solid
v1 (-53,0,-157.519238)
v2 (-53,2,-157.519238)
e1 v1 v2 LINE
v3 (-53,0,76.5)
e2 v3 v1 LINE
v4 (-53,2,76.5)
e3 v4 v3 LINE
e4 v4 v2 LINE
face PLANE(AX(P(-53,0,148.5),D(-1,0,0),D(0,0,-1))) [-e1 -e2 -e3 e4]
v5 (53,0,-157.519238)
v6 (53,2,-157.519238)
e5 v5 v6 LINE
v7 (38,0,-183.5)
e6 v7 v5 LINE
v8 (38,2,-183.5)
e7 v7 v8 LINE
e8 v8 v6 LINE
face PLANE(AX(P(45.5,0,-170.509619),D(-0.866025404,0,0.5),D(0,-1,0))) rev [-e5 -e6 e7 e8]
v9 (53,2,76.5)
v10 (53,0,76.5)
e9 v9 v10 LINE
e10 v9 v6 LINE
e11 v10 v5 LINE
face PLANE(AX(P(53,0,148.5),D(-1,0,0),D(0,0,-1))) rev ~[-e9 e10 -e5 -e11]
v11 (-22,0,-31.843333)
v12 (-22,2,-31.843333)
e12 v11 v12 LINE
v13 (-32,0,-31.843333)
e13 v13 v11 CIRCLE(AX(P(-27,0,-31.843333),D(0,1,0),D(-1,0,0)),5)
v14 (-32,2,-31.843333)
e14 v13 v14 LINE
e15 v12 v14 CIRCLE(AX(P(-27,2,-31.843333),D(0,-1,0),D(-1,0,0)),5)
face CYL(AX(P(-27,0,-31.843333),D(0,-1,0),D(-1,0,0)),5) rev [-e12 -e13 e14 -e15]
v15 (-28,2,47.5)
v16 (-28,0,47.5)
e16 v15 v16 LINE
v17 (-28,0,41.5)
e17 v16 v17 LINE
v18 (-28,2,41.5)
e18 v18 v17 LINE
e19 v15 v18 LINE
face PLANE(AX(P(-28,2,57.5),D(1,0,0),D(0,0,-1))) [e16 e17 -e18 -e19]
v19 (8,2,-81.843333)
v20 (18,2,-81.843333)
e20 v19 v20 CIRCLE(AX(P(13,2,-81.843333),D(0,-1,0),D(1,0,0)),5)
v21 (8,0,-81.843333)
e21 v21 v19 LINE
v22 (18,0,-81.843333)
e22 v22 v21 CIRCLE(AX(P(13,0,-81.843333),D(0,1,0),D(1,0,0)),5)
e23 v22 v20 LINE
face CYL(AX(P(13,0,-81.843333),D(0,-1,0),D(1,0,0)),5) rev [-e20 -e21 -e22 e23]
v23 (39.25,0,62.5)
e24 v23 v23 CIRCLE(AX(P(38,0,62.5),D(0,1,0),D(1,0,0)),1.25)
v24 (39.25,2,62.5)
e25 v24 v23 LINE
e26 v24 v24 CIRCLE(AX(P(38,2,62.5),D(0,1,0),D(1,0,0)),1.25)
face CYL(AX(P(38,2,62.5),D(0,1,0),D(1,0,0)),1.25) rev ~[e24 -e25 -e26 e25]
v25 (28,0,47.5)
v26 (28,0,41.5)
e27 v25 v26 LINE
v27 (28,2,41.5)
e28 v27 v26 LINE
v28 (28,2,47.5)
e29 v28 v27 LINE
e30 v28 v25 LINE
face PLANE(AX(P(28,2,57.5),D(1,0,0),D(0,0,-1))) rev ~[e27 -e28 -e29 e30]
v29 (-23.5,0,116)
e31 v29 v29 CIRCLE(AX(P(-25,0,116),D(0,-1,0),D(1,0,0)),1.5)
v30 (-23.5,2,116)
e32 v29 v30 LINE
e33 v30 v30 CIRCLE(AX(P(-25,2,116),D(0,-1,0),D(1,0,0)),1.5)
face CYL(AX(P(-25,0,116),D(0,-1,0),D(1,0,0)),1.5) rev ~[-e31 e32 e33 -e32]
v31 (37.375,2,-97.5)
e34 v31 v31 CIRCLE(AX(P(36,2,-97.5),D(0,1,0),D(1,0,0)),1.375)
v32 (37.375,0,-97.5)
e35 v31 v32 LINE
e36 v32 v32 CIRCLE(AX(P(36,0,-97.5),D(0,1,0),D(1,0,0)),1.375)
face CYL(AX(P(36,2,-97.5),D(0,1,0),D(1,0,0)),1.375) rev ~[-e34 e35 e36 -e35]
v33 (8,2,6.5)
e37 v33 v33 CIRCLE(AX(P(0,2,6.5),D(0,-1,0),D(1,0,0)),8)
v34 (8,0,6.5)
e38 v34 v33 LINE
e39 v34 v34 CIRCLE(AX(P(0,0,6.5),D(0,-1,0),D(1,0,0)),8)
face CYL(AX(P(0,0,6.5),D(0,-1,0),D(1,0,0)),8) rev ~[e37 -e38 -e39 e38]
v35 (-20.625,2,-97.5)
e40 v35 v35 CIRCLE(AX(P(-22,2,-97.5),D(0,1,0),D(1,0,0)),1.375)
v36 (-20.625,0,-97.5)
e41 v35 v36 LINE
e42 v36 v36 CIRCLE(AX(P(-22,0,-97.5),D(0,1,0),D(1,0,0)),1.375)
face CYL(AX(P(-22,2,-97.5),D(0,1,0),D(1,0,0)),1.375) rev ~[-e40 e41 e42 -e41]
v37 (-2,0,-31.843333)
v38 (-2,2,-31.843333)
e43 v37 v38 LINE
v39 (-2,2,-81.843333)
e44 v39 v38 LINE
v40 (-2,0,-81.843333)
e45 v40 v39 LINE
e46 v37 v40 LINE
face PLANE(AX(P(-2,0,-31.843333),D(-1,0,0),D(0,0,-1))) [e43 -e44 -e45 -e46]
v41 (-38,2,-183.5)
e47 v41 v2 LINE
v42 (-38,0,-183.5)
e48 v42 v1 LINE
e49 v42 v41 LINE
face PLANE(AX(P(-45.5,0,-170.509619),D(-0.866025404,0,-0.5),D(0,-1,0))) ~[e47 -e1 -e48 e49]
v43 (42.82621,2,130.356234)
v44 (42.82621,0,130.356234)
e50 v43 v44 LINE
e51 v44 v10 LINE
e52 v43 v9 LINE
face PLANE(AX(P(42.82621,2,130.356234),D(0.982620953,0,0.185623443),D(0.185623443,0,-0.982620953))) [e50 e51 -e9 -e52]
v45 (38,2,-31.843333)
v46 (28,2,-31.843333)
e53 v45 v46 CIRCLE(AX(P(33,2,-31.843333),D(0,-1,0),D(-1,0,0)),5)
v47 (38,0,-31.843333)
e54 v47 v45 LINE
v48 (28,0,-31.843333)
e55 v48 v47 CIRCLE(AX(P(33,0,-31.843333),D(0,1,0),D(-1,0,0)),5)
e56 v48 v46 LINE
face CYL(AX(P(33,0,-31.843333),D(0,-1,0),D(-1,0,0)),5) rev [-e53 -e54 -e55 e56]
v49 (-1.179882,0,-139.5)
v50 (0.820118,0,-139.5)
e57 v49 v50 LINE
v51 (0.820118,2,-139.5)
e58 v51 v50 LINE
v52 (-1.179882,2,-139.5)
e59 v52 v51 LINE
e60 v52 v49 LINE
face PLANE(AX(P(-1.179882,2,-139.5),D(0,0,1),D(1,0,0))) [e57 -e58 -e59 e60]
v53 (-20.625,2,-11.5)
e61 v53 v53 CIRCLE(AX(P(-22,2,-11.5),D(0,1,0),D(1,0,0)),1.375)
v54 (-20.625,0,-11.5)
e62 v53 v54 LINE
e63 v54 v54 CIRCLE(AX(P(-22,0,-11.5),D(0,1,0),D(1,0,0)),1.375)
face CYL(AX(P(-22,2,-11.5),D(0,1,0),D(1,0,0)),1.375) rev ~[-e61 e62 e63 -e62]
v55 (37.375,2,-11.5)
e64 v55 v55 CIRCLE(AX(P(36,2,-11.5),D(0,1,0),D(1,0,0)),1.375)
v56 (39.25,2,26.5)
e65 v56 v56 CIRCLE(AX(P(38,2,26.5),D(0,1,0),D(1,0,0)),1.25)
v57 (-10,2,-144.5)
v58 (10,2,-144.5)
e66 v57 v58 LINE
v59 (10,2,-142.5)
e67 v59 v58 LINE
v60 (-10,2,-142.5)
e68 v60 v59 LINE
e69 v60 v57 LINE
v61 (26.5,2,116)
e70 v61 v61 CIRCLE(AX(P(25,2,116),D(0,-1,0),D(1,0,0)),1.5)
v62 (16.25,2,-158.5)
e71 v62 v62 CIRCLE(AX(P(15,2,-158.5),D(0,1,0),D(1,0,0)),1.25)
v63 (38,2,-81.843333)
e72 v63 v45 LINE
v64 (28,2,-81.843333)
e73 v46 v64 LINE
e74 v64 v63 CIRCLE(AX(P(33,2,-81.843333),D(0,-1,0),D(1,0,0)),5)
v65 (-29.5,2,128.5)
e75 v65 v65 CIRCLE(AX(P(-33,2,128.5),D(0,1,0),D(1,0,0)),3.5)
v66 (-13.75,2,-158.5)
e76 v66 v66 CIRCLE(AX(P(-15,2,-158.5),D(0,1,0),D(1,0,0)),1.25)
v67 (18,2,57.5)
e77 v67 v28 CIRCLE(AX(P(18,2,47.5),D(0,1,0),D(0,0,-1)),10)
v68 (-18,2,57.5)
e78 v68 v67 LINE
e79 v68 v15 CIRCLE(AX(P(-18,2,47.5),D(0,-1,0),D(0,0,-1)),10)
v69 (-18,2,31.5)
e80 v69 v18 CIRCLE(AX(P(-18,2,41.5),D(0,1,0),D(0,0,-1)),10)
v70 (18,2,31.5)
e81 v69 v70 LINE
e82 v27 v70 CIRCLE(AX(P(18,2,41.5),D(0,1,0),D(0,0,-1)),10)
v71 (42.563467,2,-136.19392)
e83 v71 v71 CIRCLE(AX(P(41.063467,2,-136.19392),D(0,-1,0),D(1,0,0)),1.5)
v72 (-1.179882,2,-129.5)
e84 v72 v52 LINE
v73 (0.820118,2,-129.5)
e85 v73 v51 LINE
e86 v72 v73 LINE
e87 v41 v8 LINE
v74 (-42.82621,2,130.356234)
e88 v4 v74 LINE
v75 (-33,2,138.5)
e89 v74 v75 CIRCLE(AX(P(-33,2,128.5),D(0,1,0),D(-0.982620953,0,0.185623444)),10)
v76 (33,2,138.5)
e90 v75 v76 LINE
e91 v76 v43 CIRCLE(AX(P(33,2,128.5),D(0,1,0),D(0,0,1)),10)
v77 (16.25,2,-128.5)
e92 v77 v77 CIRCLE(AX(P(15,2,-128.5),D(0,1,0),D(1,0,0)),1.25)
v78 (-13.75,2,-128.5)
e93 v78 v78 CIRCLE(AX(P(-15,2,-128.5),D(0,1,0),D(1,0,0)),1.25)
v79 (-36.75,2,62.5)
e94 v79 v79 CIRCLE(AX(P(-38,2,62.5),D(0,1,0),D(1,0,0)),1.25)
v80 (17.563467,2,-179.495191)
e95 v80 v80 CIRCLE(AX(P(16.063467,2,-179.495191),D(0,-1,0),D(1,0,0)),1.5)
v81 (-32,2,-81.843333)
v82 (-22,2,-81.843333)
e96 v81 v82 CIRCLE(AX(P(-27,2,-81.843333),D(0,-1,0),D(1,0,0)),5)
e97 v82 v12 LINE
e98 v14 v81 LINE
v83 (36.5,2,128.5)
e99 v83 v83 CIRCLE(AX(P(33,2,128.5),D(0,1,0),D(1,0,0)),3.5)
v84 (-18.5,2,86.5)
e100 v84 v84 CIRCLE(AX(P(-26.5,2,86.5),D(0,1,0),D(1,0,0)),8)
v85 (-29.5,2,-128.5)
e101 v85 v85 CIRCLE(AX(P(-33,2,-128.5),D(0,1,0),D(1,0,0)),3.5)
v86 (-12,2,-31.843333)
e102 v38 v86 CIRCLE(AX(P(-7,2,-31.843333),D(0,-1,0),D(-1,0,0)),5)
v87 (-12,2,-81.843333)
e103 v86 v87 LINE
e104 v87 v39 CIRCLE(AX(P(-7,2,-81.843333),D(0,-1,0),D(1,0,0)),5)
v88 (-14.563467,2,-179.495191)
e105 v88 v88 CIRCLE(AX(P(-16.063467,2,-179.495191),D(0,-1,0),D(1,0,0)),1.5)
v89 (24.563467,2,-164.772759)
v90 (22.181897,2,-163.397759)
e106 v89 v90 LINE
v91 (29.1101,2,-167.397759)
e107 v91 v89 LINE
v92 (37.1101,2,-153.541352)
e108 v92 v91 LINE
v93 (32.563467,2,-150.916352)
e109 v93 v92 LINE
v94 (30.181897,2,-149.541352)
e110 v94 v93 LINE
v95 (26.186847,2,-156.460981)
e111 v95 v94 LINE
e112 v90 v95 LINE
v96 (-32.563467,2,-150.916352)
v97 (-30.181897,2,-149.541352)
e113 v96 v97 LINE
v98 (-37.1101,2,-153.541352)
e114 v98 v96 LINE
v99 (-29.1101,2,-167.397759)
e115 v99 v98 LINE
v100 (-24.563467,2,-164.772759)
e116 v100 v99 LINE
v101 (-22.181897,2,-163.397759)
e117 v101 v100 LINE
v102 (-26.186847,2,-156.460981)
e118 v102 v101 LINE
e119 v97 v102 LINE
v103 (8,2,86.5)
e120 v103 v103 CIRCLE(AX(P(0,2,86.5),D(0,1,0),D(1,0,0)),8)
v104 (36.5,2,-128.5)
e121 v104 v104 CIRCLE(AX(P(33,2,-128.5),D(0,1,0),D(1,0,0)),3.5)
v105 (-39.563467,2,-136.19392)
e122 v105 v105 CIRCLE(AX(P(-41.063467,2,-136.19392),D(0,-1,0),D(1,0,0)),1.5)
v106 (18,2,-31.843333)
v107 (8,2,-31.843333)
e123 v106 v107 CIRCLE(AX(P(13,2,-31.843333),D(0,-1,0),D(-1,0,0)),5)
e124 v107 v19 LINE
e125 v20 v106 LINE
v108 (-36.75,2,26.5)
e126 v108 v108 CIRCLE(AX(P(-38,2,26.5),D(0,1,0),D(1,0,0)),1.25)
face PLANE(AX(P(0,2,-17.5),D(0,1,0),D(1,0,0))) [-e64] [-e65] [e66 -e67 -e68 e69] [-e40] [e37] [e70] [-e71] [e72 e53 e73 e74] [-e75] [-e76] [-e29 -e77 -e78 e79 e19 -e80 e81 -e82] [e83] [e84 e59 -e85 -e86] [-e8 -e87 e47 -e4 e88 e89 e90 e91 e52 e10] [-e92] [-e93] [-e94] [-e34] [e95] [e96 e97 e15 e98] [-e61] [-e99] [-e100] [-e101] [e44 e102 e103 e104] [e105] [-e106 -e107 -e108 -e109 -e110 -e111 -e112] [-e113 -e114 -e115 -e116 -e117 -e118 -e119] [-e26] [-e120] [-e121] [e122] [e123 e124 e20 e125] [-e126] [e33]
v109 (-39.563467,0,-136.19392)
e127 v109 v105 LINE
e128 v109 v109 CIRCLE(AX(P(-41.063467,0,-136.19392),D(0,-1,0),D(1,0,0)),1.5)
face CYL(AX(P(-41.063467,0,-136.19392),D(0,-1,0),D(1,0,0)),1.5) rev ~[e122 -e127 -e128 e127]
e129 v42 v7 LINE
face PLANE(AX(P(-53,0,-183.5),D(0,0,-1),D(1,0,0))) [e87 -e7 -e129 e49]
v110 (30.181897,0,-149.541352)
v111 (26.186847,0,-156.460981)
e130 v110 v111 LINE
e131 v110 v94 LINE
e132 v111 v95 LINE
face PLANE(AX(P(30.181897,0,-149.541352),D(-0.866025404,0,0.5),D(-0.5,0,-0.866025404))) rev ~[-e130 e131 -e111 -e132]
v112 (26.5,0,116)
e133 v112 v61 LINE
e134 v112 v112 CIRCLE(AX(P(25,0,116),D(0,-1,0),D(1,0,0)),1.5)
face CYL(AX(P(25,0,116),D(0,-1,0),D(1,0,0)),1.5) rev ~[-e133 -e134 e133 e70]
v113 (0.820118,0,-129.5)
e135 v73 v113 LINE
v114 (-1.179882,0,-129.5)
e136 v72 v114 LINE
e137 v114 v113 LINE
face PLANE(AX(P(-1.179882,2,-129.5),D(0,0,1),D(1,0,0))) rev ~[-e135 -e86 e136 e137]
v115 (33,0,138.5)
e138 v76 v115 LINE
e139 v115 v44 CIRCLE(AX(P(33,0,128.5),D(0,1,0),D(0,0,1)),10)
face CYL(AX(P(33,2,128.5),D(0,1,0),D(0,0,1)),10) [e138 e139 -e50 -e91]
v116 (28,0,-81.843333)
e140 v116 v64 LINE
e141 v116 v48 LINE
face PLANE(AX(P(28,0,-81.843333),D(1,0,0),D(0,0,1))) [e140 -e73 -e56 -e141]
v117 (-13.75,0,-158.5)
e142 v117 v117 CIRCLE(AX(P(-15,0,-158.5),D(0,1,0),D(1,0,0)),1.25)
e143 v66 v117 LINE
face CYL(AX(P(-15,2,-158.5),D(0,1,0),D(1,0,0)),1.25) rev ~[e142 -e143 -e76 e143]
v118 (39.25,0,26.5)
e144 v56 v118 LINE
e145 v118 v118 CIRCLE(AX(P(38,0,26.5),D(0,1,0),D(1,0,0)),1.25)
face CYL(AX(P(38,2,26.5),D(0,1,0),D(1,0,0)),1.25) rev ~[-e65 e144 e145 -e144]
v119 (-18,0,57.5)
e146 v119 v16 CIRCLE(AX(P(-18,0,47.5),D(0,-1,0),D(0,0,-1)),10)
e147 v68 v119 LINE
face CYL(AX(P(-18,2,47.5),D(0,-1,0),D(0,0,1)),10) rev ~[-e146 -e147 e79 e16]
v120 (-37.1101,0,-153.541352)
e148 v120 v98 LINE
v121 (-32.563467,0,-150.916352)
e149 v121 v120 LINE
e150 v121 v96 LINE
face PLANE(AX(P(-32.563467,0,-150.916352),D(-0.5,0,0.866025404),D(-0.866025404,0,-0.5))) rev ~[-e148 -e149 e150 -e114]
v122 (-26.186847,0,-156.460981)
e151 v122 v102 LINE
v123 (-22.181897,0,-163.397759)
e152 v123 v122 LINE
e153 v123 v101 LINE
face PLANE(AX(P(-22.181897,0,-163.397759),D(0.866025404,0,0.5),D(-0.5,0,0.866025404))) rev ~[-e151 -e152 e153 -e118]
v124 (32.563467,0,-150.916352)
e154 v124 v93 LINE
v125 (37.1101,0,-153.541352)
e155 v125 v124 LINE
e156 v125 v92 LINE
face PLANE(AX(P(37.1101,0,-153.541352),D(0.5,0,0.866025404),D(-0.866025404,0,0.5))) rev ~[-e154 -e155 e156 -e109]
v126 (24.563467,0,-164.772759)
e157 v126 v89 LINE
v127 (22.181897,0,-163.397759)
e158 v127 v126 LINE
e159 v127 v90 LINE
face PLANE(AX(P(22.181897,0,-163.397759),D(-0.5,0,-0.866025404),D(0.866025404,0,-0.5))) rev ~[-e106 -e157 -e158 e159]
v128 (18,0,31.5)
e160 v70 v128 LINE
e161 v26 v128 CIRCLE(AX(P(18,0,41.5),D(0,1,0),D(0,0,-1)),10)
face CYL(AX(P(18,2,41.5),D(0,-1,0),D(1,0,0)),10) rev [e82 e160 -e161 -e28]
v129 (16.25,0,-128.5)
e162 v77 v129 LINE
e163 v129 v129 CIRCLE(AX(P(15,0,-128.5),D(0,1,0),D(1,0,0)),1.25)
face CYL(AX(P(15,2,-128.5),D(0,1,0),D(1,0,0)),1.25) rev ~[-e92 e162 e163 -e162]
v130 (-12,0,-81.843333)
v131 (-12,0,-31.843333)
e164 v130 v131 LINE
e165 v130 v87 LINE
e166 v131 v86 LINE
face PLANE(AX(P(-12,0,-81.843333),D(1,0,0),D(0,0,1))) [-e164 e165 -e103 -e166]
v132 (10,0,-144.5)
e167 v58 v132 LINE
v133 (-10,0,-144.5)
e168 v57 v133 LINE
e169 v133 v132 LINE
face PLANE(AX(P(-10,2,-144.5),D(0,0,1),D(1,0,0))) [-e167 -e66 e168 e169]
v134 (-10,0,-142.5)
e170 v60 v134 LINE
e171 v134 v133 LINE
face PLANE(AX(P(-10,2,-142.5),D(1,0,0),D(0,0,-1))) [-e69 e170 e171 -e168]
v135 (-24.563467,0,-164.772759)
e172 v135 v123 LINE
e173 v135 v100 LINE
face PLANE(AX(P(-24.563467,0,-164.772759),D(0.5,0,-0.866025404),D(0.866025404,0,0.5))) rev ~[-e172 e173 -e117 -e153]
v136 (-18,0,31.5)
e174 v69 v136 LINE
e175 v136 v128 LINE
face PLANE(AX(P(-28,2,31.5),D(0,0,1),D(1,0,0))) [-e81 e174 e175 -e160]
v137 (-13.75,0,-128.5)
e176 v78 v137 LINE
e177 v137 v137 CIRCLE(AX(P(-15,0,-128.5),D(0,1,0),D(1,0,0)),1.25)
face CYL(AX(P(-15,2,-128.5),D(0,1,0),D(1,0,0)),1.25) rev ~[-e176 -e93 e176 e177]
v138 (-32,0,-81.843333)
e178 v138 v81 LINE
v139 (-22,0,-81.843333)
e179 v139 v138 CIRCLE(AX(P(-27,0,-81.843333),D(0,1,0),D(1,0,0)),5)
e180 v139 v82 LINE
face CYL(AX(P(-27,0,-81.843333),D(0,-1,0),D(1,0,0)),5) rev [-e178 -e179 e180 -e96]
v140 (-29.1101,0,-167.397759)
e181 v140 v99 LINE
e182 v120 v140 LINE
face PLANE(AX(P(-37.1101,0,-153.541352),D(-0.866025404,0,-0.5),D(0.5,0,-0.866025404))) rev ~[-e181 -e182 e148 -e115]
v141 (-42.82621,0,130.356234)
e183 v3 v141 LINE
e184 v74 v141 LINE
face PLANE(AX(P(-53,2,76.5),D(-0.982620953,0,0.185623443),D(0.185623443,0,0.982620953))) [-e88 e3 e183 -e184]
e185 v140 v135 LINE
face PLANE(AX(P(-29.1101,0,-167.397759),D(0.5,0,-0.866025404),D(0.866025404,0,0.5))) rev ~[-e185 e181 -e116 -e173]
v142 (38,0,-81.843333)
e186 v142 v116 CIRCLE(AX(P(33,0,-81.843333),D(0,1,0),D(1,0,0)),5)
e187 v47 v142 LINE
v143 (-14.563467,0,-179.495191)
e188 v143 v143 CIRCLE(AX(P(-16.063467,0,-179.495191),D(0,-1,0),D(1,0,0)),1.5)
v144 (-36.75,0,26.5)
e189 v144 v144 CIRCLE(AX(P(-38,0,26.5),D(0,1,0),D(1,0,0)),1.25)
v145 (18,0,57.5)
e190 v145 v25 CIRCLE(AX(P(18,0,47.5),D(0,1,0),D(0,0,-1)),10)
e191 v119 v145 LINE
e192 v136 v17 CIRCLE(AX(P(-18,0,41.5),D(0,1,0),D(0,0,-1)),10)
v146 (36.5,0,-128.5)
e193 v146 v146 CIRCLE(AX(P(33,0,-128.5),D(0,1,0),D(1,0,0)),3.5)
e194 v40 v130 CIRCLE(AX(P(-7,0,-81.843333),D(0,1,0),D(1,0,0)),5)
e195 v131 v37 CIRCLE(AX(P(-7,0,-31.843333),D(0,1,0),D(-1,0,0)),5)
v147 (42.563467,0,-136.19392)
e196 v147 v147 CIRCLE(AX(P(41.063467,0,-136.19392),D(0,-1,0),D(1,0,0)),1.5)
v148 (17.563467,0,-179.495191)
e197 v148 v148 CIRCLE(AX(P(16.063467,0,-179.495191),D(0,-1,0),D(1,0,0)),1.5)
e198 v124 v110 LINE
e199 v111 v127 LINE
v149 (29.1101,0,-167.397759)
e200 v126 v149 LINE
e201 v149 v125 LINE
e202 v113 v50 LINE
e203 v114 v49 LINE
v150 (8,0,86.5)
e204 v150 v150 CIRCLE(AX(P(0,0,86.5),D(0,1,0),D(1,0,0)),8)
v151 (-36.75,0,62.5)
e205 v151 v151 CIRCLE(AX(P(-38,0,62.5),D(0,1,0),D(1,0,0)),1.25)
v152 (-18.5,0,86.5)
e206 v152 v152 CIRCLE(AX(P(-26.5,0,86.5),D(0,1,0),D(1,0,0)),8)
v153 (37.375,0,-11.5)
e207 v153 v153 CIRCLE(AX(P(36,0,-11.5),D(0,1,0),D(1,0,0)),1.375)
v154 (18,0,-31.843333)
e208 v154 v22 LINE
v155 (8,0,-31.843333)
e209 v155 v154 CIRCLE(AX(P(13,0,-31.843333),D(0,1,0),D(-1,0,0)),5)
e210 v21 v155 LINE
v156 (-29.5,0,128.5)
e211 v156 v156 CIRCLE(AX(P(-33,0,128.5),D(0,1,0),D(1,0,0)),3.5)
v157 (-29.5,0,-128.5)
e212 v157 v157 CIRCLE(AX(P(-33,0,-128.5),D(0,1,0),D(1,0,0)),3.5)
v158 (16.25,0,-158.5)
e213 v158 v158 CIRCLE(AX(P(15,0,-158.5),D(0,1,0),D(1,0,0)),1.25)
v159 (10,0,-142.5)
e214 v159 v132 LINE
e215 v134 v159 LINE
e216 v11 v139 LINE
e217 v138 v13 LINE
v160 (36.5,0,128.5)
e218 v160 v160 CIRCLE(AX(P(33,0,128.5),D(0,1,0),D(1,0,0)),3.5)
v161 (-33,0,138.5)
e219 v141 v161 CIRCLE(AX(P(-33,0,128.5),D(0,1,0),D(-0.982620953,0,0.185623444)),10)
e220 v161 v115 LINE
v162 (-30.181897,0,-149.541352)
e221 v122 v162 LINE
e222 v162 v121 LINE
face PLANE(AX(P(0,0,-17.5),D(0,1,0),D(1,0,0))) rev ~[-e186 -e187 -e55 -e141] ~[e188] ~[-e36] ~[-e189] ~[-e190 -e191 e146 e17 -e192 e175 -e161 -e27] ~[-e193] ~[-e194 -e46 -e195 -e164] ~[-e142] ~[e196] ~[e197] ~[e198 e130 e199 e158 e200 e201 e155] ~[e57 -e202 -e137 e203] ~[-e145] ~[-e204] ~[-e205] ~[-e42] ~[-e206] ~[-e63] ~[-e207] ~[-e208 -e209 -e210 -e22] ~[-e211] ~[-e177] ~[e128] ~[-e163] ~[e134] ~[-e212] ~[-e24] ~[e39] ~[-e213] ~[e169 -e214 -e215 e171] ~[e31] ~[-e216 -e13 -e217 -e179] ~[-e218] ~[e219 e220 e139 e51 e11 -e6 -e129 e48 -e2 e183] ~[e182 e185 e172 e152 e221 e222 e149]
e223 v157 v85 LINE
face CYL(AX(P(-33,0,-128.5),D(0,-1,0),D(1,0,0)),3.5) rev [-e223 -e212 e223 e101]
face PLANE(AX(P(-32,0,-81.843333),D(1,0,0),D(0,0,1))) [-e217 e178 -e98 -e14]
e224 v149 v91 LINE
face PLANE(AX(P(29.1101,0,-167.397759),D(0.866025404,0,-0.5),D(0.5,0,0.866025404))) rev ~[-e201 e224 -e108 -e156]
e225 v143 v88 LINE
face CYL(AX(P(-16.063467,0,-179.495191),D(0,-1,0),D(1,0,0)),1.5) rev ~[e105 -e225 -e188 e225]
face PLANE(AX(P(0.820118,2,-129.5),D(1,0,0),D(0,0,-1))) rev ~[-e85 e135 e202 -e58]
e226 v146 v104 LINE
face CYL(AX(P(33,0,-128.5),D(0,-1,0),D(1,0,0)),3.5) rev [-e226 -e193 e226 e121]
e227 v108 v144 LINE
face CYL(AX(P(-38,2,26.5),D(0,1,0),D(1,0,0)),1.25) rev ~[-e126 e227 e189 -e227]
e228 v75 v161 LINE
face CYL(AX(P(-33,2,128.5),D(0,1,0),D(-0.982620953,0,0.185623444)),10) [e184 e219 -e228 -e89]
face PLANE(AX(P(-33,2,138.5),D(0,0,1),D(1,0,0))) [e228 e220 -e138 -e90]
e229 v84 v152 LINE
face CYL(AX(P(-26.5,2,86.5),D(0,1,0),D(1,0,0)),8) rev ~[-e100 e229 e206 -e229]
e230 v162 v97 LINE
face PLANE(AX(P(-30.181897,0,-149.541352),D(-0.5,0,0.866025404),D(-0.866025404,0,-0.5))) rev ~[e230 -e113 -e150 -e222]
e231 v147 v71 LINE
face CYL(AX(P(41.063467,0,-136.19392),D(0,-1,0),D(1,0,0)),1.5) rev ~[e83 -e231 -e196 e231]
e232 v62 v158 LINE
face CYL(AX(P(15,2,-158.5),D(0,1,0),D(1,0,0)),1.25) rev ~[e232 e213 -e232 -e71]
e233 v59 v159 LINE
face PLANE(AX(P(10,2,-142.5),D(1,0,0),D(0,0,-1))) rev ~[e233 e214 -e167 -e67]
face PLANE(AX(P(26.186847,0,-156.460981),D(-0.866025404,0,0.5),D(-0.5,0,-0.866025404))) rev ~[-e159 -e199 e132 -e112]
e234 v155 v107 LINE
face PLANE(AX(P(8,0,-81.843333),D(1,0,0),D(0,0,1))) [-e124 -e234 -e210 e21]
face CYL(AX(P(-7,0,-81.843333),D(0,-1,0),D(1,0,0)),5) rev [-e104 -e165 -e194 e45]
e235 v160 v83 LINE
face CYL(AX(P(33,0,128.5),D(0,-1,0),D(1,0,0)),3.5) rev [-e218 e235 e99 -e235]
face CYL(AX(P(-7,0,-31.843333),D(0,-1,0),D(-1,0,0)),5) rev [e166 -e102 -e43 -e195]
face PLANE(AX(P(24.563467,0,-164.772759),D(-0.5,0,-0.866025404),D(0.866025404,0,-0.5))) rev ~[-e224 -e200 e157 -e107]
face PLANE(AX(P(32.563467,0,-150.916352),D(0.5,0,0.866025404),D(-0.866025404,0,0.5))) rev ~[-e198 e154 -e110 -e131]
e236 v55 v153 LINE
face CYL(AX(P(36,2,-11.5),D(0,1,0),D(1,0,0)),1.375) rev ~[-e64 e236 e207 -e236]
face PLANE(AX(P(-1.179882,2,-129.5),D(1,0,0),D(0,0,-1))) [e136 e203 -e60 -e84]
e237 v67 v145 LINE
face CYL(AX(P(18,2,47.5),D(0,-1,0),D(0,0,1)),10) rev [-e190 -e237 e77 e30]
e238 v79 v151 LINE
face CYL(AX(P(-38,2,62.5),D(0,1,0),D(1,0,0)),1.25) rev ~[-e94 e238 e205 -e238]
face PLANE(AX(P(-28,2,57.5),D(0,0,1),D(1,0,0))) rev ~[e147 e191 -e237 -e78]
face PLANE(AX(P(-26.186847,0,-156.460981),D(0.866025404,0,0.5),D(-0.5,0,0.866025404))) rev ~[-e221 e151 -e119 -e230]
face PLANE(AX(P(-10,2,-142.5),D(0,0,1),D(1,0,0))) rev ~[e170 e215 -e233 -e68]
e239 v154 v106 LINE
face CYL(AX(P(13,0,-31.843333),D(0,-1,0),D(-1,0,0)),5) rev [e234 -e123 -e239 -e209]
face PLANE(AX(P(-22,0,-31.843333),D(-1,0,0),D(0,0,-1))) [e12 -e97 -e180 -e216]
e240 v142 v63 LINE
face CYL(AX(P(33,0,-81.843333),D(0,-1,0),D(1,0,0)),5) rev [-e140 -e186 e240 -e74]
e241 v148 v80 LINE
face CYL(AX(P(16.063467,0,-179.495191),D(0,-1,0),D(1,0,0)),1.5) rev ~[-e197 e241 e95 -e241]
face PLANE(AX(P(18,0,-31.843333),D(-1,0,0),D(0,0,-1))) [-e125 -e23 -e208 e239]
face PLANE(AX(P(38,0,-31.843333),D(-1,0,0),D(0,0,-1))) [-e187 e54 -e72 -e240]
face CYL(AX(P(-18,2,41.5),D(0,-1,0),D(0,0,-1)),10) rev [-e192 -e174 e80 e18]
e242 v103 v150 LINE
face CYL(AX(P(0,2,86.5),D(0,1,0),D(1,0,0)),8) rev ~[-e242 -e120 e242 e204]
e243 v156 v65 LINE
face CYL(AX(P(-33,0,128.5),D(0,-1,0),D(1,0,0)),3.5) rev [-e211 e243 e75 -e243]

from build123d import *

# Parameters (mm, degrees)
ESQUISSE1_W              = 106
ESQUISSE1_H              = 332
ESQUISSE1_R              = 3.5
BOSS_EXTRU_1_DEPTH       = 2
ESQUISSE3_R              = 1.375
ENL_V_MAT_EXTRU_1_DEPTH  = 3
CHANFREIN1_SIZE          = 15
CHANFREIN1_SIZE2         = 25.980762114
ESQUISSE4_R              = 1.25
ESQUISSE4_W              = 56
ESQUISSE4_H              = 26
ENL_V_MAT_EXTRU_2_DEPTH  = 10
CONG_1_R                 = 10
ESQUISSE6_R              = 1.25
ESQUISSE6_W              = 20
ESQUISSE6_H              = 2
ESQUISSE6_W_2            = 2
ESQUISSE6_H_2            = 10
ENL_V_MAT_EXTRU_4_DEPTH  = 10
ESQUISSE7_R              = 8
ENL_V_MAT_EXTRU_5_DEPTH  = 10
ESQUISSE8_OUTSIDE_W      = 177.704
ESQUISSE8_OUTSIDE_H      = 403.704
ENL_V_MAT_EXTRU_6_DEPTH  = 10
ESQUISSE10_R             = 1.5
ENL_V_MAT_EXTRU_8_DEPTH  = 10
ESQUISSE11_R             = 1.5
ENL_V_MAT_EXTRU_9_DEPTH  = 10
ENL_V_MAT_EXTRU_10_DEPTH = 10
ESQUISSE13_R             = 8
ENL_V_MAT_EXTRU_11_DEPTH = 10


with BuildPart() as part:
    # Esquisse1 → Boss.-Extru.1 (new body)
    with BuildSketch(Plane(origin=(0, 0, 0), x_dir=(1, 0, 0), z_dir=(0, 1, 0))):
        with Locations((0, 17.5)):
            Rectangle(ESQUISSE1_W, ESQUISSE1_H)
        with Locations((-33, 128.5)):
            Circle(ESQUISSE1_R, mode=Mode.SUBTRACT)
        with Locations((-33, -128.5)):
            Circle(ESQUISSE1_R, mode=Mode.SUBTRACT)
        with Locations((33, 128.5)):
            Circle(ESQUISSE1_R, mode=Mode.SUBTRACT)
        with Locations((33, -128.5)):
            Circle(ESQUISSE1_R, mode=Mode.SUBTRACT)
    extrude(amount=BOSS_EXTRU_1_DEPTH)

    # Esquisse3 → Enlèv. mat.-Extru.1 (cut, through all)
    with BuildSketch(Plane(origin=(0, 2, 0), x_dir=(1, 0, 0), z_dir=(0, 1, 0))):
        with Locations((-22, 11.5)):
            Circle(ESQUISSE3_R)
        with Locations((-22, 97.5)):
            Circle(ESQUISSE3_R)
        with Locations((36, 97.5)):
            Circle(ESQUISSE3_R)
        with Locations((36, 11.5)):
            Circle(ESQUISSE3_R)
    extrude(amount=-ENL_V_MAT_EXTRU_1_DEPTH, mode=Mode.SUBTRACT)

    # Chanfrein1
    chanfrein1_edges = [part.edges().sort_by_distance(p)[0] for p in [
        (-53, 1, -183.5),
        (53, 1, -183.5),
    ]]
    chanfrein1_side = [part.faces().sort_by_distance(p)[0] for p in [
        (0, 1, -183.5),
    ]]
    chamfer(chanfrein1_edges, length=CHANFREIN1_SIZE, length2=CHANFREIN1_SIZE2, reference=chanfrein1_side[0])

    # Esquisse4 → Enlèv. mat.-Extru.2 (cut)
    with BuildSketch(Plane(origin=(0, 2, 0), x_dir=(1, 0, 0), z_dir=(0, 1, 0))):
        with Locations((38, -62.5)):
            Circle(ESQUISSE4_R)
        with Locations((38, -26.5)):
            Circle(ESQUISSE4_R)
        with Locations((-38, -62.5)):
            Circle(ESQUISSE4_R)
        with Locations((-38, -26.5)):
            Circle(ESQUISSE4_R)
        with Locations((0, -44.5)):
            Rectangle(ESQUISSE4_W, ESQUISSE4_H)
    extrude(amount=-ENL_V_MAT_EXTRU_2_DEPTH, mode=Mode.SUBTRACT)

    # Congé1
    cong_1_edges = [part.edges().sort_by_distance(p)[0] for p in [
        (-28, 1, 57.5),
        (-28, 1, 31.5),
        (28, 1, 31.5),
        (28, 1, 57.5),
    ]]
    fillet(cong_1_edges, radius=CONG_1_R)

    # Esquisse6 → Enlèv. mat.-Extru.4 (cut)
    with BuildSketch(Plane(origin=(0, 2, 0), x_dir=(1, 0, 0), z_dir=(0, 1, 0))):
        with Locations((-15, 128.5)):
            Circle(ESQUISSE6_R)
        with Locations((15, 128.5)):
            Circle(ESQUISSE6_R)
        with Locations((-15, 158.5)):
            Circle(ESQUISSE6_R)
        with Locations((15, 158.5)):
            Circle(ESQUISSE6_R)
        with Locations((0, 143.5)):
            Rectangle(ESQUISSE6_W, ESQUISSE6_H)
        with Locations((-0.179881847, 134.5)):
            Rectangle(ESQUISSE6_W_2, ESQUISSE6_H_2)
    extrude(amount=-ENL_V_MAT_EXTRU_4_DEPTH, mode=Mode.SUBTRACT)

    # Esquisse7 → Enlèv. mat.-Extru.5 (cut)
    with BuildSketch(Plane(origin=(0, 2, 0), x_dir=(1, 0, 0), z_dir=(0, 1, 0))):
        with Locations((0, -86.5)):
            Circle(ESQUISSE7_R)
        with Locations((-26.5, -86.5)):
            Circle(ESQUISSE7_R)
    extrude(amount=-ENL_V_MAT_EXTRU_5_DEPTH, mode=Mode.SUBTRACT)

    # Esquisse8 outside → Enlèv. mat.-Extru.6 (cut)
    with BuildSketch(Plane(origin=(0, 2, 0), x_dir=(1, 0, 0), z_dir=(0, 1, 0))):
        with Locations((0, 17.5)):
            Rectangle(ESQUISSE8_OUTSIDE_W, ESQUISSE8_OUTSIDE_H)
        with BuildLine():
            Line((38, 183.5), (-38, 183.5))
            Line((-38, 183.5), (-53, 157.519237886))
            Line((-53, 157.519237886), (-53, -76.5))
            Line((-53, -76.5), (-42.82620953, -130.356234435))
            ThreePointArc((-42.82620953, -130.356234435), (-39.381130607, -136.199426743), (-33, -138.5))
            Line((-33, -138.5), (33, -138.5))
            ThreePointArc((33, -138.5), (39.381130607, -136.199426743), (42.82620953, -130.356234435))
            Line((42.82620953, -130.356234435), (53, -76.5))
            Line((53, -76.5), (53, 157.519237886))
            Line((53, 157.519237886), (38, 183.5))
        make_face(mode=Mode.SUBTRACT)
    extrude(amount=-ENL_V_MAT_EXTRU_6_DEPTH, mode=Mode.SUBTRACT)

    # Esquisse10 → Enlèv. mat.-Extru.8 (cut)
    with BuildSketch(Plane.XZ):
        with Locations((16.063466521, -179.495190528)):
            Circle(ESQUISSE10_R)
        with Locations((41.063466521, -136.193920339)):
            Circle(ESQUISSE10_R)
        with Locations((-41.063466521, -136.193920339)):
            Circle(ESQUISSE10_R)
        with Locations((-16.063466521, -179.495190528)):
            Circle(ESQUISSE10_R)
        Polygon((32.563466521, -150.916352203), (30.18189666, -149.541352203), (26.186846942, -156.460981293), (22.18189666, -163.397758664), (24.563466521, -164.772758664), (29.11009989, -167.397758664), (37.11009989, -153.541352203), align=None)
        Polygon((-24.563466521, -164.772758664), (-22.18189666, -163.397758664), (-26.186846942, -156.460981293), (-30.18189666, -149.541352203), (-32.563466521, -150.916352203), (-37.11009989, -153.541352203), (-29.11009989, -167.397758664), align=None)
    extrude(amount=-ENL_V_MAT_EXTRU_8_DEPTH, mode=Mode.SUBTRACT)

    # Esquisse11 → Enlèv. mat.-Extru.9 (cut)
    with BuildSketch(Plane.XZ):
        with Locations((25, 116)):
            Circle(ESQUISSE11_R)
        with Locations((-25, 116)):
            Circle(ESQUISSE11_R)
    extrude(amount=-ENL_V_MAT_EXTRU_9_DEPTH, mode=Mode.SUBTRACT)

    # Esquisse12 → Enlèv. mat.-Extru.10 (cut)
    with BuildSketch(Plane.XZ):
        with BuildLine():
            Line((38, -31.843333074), (38, -81.843333074))
            ThreePointArc((38, -81.843333074), (33, -86.843333074), (28, -81.843333074))
            Line((28, -81.843333074), (28, -31.843333074))
            ThreePointArc((28, -31.843333074), (33, -26.843333074), (38, -31.843333074))
        make_face()
        with BuildLine():
            Line((18, -31.843333074), (18, -81.843333074))
            ThreePointArc((18, -81.843333074), (13, -86.843333074), (8, -81.843333074))
            Line((8, -81.843333074), (8, -31.843333074))
            ThreePointArc((8, -31.843333074), (13, -26.843333074), (18, -31.843333074))
        make_face()
        with BuildLine():
            Line((-2, -31.843333074), (-2, -81.843333074))
            ThreePointArc((-2, -81.843333074), (-7, -86.843333074), (-12, -81.843333074))
            Line((-12, -81.843333074), (-12, -31.843333074))
            ThreePointArc((-12, -31.843333074), (-7, -26.843333074), (-2, -31.843333074))
        make_face()
        with BuildLine():
            Line((-22, -31.843333074), (-22, -81.843333074))
            ThreePointArc((-22, -81.843333074), (-27, -86.843333074), (-32, -81.843333074))
            Line((-32, -81.843333074), (-32, -31.843333074))
            ThreePointArc((-32, -31.843333074), (-27, -26.843333074), (-22, -31.843333074))
        make_face()
    extrude(amount=-ENL_V_MAT_EXTRU_10_DEPTH, mode=Mode.SUBTRACT)

    # Esquisse13 → Enlèv. mat.-Extru.11 (cut)
    with BuildSketch(Plane.XZ):
        with Locations((0, 6.5)):
            Circle(ESQUISSE13_R)
    extrude(amount=-ENL_V_MAT_EXTRU_11_DEPTH, mode=Mode.SUBTRACT)


solid = part.part
